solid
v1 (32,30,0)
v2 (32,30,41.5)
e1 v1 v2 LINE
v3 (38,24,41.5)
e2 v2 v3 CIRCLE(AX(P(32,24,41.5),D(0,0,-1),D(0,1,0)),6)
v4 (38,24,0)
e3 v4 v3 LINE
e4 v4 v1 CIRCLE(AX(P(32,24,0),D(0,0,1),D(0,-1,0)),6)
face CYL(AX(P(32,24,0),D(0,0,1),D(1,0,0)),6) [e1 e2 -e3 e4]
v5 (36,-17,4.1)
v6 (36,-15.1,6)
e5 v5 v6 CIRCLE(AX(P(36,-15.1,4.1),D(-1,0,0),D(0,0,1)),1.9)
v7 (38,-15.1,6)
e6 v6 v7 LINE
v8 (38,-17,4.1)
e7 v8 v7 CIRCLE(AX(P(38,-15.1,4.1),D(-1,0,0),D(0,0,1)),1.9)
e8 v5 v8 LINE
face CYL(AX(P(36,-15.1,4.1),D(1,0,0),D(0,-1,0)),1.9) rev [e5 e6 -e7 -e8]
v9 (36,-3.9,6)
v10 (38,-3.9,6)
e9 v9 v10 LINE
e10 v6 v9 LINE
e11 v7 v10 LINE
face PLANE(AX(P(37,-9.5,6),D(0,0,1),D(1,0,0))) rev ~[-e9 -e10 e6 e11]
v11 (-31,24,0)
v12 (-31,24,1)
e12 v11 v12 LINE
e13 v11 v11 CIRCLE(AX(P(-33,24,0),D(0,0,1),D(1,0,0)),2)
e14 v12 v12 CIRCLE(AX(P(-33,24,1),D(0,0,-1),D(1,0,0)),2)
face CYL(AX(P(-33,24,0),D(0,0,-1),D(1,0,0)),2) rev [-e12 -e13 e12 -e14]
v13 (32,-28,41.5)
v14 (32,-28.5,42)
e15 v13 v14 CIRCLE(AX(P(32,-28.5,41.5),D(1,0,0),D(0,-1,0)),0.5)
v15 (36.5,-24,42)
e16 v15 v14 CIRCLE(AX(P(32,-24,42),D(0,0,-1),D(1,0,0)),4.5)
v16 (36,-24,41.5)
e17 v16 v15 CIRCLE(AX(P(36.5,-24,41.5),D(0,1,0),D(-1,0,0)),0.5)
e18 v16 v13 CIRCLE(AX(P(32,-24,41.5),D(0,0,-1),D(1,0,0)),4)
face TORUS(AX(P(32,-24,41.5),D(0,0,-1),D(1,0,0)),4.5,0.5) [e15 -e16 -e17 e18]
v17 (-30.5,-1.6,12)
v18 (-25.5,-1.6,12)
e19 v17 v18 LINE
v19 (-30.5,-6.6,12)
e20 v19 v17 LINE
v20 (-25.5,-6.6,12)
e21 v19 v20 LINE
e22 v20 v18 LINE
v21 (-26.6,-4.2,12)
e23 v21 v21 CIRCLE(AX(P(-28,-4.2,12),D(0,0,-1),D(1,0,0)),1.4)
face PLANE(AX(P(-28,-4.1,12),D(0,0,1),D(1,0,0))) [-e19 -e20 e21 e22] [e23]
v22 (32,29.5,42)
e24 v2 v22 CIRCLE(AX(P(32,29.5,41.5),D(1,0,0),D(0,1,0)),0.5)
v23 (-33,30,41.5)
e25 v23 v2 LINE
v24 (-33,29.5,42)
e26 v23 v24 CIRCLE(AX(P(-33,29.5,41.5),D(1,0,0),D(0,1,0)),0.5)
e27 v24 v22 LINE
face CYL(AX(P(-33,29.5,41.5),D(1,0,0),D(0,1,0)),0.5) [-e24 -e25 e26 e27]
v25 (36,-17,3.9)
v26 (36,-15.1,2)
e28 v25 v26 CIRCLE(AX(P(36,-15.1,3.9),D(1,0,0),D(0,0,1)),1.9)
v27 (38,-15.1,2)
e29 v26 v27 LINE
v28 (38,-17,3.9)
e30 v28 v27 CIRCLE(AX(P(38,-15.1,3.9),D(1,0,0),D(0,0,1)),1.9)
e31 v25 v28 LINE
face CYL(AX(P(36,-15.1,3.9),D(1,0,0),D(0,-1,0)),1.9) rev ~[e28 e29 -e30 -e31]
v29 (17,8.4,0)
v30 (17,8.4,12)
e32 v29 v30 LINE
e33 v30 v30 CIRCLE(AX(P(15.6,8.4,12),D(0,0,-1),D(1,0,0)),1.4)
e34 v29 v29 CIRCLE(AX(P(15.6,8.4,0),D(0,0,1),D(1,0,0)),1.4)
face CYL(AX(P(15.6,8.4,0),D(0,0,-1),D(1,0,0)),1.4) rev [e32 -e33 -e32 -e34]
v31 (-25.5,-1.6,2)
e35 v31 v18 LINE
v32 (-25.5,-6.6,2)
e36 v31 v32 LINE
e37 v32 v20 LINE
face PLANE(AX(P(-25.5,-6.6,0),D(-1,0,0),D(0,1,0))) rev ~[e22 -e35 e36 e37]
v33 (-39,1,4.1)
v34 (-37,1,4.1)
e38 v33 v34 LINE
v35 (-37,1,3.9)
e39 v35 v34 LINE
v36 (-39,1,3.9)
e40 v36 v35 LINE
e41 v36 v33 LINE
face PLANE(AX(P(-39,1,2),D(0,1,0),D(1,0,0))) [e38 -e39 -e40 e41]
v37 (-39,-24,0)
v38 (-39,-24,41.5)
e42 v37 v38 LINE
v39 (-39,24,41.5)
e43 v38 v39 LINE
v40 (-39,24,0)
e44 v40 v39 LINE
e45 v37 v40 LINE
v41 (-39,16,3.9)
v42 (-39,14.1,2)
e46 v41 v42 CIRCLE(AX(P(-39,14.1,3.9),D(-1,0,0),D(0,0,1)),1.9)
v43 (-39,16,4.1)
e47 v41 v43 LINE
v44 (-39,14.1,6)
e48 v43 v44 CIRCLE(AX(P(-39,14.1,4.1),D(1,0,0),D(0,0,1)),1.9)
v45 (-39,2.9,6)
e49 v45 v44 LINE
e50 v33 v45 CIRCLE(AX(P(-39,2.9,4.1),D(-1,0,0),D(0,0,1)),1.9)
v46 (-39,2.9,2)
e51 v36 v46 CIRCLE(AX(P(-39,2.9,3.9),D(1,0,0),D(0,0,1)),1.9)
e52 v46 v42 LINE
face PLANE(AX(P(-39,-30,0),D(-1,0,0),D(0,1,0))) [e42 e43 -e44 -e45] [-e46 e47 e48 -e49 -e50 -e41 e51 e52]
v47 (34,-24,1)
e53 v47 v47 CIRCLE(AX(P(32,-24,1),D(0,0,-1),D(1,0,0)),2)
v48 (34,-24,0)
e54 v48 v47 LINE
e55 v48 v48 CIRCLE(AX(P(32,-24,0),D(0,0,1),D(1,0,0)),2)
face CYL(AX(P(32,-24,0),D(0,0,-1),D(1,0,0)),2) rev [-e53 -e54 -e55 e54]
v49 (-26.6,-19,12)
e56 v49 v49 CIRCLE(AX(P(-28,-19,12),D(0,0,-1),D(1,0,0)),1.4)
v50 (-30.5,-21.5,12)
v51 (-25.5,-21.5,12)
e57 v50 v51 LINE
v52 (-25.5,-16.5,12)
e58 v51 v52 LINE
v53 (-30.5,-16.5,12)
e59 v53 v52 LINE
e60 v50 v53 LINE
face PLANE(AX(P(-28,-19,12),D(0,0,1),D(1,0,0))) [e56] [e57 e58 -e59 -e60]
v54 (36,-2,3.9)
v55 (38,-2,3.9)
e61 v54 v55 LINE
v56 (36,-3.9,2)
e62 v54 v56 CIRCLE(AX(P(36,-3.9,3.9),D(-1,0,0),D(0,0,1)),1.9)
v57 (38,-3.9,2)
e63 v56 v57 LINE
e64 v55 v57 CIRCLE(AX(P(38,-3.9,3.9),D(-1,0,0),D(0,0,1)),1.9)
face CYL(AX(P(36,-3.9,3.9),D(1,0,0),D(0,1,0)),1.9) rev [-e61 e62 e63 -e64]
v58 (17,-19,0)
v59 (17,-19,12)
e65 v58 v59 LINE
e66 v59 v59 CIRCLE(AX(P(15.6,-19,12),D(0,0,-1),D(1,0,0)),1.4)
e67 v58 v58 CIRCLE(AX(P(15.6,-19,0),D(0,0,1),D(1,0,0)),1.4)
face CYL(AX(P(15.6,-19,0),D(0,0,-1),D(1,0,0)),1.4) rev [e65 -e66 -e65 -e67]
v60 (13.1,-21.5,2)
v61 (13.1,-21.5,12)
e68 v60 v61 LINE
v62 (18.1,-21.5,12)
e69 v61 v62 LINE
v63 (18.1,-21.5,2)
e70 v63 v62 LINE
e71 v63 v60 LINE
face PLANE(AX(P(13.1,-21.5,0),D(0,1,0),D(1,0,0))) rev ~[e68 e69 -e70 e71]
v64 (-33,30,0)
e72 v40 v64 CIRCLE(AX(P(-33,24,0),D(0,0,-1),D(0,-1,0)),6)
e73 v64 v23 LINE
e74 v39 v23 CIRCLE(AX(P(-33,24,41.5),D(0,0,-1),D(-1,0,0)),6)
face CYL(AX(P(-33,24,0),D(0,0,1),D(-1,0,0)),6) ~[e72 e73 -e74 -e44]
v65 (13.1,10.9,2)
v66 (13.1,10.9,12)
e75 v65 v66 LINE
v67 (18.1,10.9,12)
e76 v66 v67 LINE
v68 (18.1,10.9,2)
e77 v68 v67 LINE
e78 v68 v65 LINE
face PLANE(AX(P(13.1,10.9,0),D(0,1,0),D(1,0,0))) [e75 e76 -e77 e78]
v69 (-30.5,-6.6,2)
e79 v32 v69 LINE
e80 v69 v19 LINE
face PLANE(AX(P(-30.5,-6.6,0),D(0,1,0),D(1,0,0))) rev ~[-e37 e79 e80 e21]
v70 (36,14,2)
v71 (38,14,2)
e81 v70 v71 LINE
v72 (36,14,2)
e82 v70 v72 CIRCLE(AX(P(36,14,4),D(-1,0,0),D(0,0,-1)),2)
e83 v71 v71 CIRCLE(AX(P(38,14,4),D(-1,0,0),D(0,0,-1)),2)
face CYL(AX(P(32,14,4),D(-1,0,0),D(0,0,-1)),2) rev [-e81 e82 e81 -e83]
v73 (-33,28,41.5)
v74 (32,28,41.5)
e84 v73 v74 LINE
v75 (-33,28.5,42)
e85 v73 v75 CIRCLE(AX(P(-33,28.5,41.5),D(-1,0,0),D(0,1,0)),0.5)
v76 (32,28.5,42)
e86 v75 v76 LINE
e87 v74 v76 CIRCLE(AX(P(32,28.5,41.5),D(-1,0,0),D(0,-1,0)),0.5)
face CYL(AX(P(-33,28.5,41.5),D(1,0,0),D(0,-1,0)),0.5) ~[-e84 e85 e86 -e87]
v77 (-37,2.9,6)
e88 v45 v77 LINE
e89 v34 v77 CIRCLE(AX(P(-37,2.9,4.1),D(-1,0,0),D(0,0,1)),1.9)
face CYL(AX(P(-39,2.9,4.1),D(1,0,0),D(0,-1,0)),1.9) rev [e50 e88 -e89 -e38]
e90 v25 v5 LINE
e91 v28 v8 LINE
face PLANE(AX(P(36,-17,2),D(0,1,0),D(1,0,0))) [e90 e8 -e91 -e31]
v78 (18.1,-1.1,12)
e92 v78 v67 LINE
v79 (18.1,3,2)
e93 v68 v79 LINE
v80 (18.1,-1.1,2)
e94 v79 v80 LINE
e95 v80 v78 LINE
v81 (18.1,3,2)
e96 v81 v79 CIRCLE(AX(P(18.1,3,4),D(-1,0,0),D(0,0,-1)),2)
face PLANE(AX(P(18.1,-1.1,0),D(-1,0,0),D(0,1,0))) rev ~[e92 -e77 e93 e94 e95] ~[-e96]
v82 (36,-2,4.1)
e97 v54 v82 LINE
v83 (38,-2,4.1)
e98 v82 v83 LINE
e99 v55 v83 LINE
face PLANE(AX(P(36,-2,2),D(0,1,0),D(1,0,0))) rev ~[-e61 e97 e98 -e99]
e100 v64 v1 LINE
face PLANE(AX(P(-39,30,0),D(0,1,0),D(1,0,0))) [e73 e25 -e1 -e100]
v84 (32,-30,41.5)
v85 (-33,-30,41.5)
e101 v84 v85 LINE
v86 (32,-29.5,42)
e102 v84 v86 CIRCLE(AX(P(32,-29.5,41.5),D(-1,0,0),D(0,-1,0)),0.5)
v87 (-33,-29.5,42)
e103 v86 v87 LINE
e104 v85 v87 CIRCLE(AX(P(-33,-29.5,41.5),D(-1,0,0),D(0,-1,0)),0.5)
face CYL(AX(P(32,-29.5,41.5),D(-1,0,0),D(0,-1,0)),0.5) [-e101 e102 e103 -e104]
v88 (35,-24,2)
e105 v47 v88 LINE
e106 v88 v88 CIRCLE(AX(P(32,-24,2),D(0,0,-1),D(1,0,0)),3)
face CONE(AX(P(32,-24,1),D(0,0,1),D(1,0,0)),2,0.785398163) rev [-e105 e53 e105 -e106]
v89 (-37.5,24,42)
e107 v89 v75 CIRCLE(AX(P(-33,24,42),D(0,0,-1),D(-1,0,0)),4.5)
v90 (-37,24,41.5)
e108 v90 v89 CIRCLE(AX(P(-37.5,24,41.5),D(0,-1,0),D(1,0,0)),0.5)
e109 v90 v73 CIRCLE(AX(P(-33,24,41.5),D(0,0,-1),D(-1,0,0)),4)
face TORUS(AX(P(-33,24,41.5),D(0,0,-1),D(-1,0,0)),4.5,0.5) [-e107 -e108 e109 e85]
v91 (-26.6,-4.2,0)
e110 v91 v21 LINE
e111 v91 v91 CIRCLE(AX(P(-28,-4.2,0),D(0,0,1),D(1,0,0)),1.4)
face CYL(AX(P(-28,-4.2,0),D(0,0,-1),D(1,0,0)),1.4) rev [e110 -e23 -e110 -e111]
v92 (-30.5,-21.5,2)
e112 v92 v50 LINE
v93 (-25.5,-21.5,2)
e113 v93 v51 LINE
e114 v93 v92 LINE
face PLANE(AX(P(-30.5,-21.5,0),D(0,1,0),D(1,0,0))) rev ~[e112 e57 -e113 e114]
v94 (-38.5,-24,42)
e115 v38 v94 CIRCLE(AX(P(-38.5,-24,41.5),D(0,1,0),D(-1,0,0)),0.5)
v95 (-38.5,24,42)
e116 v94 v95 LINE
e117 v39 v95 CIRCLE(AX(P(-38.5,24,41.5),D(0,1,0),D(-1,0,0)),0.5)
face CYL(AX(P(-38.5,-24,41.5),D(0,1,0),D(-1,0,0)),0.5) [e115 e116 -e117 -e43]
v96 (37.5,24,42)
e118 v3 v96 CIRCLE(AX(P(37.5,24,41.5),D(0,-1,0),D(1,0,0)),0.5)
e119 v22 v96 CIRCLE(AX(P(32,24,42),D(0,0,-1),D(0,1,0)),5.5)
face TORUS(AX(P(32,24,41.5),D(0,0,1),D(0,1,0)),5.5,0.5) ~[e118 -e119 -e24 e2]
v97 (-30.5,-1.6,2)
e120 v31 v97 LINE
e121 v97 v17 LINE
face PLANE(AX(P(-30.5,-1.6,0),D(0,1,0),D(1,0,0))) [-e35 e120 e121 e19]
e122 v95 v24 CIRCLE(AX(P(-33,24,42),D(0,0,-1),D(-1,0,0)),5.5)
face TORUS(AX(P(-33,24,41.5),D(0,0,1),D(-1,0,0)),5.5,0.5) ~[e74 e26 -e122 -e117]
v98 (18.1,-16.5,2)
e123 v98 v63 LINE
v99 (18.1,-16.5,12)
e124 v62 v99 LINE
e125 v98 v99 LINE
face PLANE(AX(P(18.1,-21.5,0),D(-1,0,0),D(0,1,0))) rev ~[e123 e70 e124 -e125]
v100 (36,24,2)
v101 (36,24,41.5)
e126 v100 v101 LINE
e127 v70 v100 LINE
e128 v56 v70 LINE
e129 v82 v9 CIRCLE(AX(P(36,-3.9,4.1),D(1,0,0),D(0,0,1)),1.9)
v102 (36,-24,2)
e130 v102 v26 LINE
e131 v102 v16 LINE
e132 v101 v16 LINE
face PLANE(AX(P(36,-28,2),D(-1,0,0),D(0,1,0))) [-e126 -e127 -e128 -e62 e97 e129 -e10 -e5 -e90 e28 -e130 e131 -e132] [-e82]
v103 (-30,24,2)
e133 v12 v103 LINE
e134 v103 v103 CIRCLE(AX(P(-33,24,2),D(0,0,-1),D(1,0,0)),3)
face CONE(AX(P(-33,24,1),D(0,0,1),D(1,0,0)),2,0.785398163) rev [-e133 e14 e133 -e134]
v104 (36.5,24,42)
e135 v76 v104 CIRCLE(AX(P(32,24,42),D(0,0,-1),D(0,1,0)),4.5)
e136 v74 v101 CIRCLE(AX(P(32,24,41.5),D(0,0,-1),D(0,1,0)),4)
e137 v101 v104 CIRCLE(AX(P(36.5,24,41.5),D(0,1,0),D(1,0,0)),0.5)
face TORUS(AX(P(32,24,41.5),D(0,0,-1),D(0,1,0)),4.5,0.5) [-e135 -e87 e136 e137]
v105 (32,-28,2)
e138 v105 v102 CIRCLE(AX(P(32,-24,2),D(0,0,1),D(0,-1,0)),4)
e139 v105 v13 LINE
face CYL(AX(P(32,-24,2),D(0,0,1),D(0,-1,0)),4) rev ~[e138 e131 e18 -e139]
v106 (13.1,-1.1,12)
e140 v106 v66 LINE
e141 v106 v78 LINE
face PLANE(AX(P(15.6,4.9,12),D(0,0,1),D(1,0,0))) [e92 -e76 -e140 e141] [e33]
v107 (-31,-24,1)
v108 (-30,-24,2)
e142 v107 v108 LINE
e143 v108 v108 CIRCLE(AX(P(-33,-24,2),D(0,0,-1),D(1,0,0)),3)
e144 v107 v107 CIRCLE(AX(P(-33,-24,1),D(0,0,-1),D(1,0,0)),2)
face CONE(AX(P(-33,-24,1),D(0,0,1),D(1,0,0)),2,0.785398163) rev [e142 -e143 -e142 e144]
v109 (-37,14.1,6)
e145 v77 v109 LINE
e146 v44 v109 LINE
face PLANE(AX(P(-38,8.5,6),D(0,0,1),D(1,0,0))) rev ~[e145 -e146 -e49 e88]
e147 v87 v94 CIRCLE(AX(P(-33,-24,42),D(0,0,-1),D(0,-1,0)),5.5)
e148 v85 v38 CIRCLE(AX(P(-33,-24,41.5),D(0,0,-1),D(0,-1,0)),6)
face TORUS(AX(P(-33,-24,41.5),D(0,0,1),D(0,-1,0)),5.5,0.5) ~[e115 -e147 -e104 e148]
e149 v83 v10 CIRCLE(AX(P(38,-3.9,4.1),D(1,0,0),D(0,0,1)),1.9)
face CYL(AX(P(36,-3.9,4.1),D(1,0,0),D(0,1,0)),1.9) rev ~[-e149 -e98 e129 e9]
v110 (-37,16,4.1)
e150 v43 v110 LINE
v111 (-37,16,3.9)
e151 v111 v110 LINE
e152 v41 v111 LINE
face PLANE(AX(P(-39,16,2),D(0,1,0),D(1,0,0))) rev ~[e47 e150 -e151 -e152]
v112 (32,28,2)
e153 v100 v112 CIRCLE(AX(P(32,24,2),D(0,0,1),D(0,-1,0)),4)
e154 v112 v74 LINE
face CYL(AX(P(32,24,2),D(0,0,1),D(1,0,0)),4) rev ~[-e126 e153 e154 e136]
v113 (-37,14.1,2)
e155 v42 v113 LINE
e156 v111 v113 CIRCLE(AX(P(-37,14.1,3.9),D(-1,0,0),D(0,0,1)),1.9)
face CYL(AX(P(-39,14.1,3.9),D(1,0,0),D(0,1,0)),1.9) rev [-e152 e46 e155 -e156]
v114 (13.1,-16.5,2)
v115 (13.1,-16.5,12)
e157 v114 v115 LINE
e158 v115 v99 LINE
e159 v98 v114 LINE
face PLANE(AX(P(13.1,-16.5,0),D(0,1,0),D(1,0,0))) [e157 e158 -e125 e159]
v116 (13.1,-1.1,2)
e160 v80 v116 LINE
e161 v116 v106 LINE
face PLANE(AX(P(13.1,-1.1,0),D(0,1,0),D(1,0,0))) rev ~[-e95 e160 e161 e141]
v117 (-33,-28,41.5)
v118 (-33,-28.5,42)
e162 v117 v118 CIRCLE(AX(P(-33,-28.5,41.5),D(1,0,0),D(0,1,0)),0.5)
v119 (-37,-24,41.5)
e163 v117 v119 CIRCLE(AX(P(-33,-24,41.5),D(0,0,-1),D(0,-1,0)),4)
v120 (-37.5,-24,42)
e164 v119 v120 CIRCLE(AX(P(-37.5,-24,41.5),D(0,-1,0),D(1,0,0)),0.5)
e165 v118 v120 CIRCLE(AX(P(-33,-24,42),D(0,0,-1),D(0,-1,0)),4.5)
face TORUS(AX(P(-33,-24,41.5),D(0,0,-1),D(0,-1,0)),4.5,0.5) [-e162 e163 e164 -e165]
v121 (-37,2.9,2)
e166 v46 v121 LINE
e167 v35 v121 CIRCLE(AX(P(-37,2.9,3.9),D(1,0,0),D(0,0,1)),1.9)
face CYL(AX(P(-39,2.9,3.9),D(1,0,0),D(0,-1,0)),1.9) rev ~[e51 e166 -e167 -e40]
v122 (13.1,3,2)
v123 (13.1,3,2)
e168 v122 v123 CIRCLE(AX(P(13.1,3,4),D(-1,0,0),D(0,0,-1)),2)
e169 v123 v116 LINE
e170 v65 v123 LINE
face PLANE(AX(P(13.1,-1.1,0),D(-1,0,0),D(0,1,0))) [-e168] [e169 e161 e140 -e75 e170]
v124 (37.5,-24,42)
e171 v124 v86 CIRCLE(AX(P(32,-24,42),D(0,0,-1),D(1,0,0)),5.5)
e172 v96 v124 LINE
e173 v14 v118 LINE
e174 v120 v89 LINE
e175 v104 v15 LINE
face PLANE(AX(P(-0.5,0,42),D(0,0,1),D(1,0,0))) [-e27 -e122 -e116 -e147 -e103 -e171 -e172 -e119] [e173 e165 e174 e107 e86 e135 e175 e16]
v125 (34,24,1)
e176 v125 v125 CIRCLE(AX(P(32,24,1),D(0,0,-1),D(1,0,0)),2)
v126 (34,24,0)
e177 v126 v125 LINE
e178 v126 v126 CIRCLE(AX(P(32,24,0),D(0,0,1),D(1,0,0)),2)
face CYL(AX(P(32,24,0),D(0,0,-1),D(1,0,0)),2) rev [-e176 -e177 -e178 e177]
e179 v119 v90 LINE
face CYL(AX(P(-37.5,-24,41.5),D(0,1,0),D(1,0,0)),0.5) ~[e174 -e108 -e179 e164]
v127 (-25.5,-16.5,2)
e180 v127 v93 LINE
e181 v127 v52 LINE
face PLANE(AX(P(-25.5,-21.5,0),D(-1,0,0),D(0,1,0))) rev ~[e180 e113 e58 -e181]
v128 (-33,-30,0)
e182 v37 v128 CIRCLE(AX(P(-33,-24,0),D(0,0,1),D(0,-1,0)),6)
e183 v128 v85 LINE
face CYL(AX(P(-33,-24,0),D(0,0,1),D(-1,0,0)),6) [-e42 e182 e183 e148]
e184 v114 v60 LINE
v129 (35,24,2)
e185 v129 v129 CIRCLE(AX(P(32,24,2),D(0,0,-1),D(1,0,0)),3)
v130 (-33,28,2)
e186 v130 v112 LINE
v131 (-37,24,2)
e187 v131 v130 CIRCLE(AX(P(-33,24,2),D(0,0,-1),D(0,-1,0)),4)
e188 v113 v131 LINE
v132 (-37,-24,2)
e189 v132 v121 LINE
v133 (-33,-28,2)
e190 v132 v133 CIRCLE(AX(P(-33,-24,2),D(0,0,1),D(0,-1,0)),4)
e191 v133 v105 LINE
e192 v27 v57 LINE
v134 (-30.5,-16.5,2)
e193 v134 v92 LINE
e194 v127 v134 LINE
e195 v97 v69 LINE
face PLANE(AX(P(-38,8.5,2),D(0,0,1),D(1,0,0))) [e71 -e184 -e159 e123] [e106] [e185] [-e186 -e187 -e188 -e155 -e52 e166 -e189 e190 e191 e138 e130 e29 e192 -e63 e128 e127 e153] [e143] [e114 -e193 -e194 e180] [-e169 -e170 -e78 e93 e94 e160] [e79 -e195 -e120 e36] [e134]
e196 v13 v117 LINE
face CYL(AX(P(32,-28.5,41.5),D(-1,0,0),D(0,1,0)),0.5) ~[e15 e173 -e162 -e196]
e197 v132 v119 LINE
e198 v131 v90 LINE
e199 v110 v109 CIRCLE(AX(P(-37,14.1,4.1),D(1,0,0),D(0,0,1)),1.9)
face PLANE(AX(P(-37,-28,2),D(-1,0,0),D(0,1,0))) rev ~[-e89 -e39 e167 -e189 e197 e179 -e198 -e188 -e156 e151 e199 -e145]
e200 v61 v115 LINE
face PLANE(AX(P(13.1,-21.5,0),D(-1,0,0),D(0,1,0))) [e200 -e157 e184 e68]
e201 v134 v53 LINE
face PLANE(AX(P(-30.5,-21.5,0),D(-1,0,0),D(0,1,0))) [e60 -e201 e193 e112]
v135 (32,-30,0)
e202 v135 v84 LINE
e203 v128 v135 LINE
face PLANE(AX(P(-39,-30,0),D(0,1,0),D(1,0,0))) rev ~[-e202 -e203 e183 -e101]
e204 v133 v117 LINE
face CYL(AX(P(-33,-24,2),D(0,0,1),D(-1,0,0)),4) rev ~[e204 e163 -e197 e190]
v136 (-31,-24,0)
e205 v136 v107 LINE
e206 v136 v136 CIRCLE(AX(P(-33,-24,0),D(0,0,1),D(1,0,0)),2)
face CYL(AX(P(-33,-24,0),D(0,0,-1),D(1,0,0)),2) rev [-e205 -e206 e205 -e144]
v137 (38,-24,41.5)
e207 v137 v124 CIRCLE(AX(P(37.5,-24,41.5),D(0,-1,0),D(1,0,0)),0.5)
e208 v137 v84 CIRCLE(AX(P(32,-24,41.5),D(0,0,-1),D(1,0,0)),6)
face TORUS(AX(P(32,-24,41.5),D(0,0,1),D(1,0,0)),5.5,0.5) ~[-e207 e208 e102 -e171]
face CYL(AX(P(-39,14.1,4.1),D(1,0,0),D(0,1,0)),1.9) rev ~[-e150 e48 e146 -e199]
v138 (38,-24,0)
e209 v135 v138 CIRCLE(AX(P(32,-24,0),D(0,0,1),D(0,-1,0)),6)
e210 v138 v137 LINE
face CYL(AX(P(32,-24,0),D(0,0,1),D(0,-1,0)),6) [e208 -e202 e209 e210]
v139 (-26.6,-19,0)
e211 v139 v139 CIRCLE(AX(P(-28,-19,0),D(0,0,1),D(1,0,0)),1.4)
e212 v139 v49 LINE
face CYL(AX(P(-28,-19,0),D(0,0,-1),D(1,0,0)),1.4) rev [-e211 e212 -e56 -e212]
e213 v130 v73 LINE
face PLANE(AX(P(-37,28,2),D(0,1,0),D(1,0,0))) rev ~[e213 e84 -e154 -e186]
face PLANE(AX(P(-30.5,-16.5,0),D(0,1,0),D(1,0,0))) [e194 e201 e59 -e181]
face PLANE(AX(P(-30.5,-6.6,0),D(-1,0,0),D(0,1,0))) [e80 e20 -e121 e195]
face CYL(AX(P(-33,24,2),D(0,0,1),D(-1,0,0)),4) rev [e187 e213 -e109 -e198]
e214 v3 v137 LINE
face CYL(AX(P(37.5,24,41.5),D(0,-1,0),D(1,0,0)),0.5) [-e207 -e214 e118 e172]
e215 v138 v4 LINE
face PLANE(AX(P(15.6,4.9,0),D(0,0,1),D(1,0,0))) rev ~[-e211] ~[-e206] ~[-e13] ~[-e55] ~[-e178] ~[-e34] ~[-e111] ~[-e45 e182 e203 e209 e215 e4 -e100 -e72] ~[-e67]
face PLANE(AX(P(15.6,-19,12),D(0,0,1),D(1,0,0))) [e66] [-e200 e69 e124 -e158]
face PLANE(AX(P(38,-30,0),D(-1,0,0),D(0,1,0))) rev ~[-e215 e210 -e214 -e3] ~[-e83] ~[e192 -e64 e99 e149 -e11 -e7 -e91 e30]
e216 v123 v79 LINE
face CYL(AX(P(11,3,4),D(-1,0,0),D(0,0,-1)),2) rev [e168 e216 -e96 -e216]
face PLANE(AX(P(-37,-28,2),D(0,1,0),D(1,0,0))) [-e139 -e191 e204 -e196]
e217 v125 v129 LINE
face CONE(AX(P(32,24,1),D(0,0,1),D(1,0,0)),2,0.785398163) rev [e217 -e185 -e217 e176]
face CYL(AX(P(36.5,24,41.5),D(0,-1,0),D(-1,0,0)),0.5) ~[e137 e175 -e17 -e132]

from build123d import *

# Parameters (mm, degrees)
CYLINDER011_R     = 1.4
CYLINDER011_DEPTH = 14
CYLINDER010_R     = 1.4
CYLINDER010_DEPTH = 14
CYLINDER009_R     = 1.4
CYLINDER009_DEPTH = 14
CYLINDER004_R     = 2
CYLINDER004_DEPTH = 40
CYLINDER005_R     = 2
CYLINDER005_DEPTH = 40
CYLINDER006_R     = 2
CYLINDER006_DEPTH = 40
CYLINDER007_R     = 2
CYLINDER007_DEPTH = 40
CYLINDER_R        = 2
CYLINDER_DEPTH    = 10
BOX004_W          = 2
BOX004_H          = 15
BOX004_DEPTH      = 4
FILLET002_R       = 1.9
BOX003_W          = 2
BOX003_H          = 15
BOX003_DEPTH      = 4
FILLET003_R       = 1.9
CYLINDER008_R     = 1.4
CYLINDER008_DEPTH = 14
BOX005_W          = 5
BOX005_H          = 5
BOX005_DEPTH      = 12
BOX006_W          = 5
BOX006_H          = 5
BOX006_DEPTH      = 12
BOX008_W          = 5
BOX008_H          = 5
BOX008_DEPTH      = 12
CYLINDER012_R     = 2
CYLINDER012_DEPTH = 10
BOX007_W          = 5
BOX007_H          = 12
BOX007_DEPTH      = 12
BOX_W             = 73
BOX_H             = 56
BOX_DEPTH         = 40
FILLET_R          = 4
BOX001_W          = 77
BOX001_H          = 60
BOX001_DEPTH      = 42
FILLET001_R       = 6
CHAMFER_SIZE      = 1
FILLET004_R       = 0.5


with BuildPart() as halterlochlo:
    # Cylinder011 → Cylinder011 (new body)
    with BuildSketch(Plane(origin=(-28, -4.2, 0), x_dir=(1, 0, 0), z_dir=(0, 0, 1))):
        Circle(CYLINDER011_R)
    extrude(amount=CYLINDER011_DEPTH)


with BuildPart() as halterlochro:
    # Cylinder010 → Cylinder010 (new body)
    with BuildSketch(Plane(origin=(15.6, 8.4, 0), x_dir=(1, 0, 0), z_dir=(0, 0, 1))):
        Circle(CYLINDER010_R)
    extrude(amount=CYLINDER010_DEPTH)


with BuildPart() as halterlochru:
    # Cylinder009 → Cylinder009 (new body)
    with BuildSketch(Plane(origin=(15.6, -19, 0), x_dir=(1, 0, 0), z_dir=(0, 0, 1))):
        Circle(CYLINDER009_R)
    extrude(amount=CYLINDER009_DEPTH)


with BuildPart() as zylinder:
    # Cylinder004 → Cylinder004 (new body)
    with BuildSketch(Plane(origin=(32, 24, 0), x_dir=(1, 0, 0), z_dir=(0, 0, 1))):
        Circle(CYLINDER004_R)
    extrude(amount=CYLINDER004_DEPTH)


with BuildPart() as zylinder001:
    # Cylinder005 → Cylinder005 (new body)
    with BuildSketch(Plane(origin=(32, -24, 0), x_dir=(1, 0, 0), z_dir=(0, 0, 1))):
        Circle(CYLINDER005_R)
    extrude(amount=CYLINDER005_DEPTH)


with BuildPart() as zylinder002:
    # Cylinder006 → Cylinder006 (new body)
    with BuildSketch(Plane(origin=(-33, 24, 0), x_dir=(1, 0, 0), z_dir=(0, 0, 1))):
        Circle(CYLINDER006_R)
    extrude(amount=CYLINDER006_DEPTH)


with BuildPart() as zylinder003:
    # Cylinder007 → Cylinder007 (new body)
    with BuildSketch(Plane(origin=(-33, -24, 0), x_dir=(1, 0, 0), z_dir=(0, 0, 1))):
        Circle(CYLINDER007_R)
    extrude(amount=CYLINDER007_DEPTH)


with BuildPart() as zylinder004:
    # Cylinder → Cylinder (new body)
    with BuildSketch(Plane(origin=(32, 14, 4), x_dir=(0, 0, -1), z_dir=(1, 0, 0))):
        Circle(CYLINDER_R)
    extrude(amount=CYLINDER_DEPTH)


with BuildPart() as fillet002:
    # Box004 → Box004 (new body)
    with BuildSketch(Plane(origin=(-39, 1, 2), x_dir=(1, 0, 0), z_dir=(0, 0, 1))):
        with Locations((1, 7.5)):
            Rectangle(BOX004_W, BOX004_H)
    extrude(amount=BOX004_DEPTH)

    # Fillet002
    fillet002_edges = [fillet002.edges().sort_by_distance(p)[0] for p in [
        (-38, 1, 2),
        (-38, 1, 6),
        (-38, 16, 2),
        (-38, 16, 6),
    ]]
    fillet(fillet002_edges, radius=FILLET002_R)


with BuildPart() as fillet003:
    # Box003 → Box003 (new body)
    with BuildSketch(Plane(origin=(36, -17, 2), x_dir=(1, 0, 0), z_dir=(0, 0, 1))):
        with Locations((1, 7.5)):
            Rectangle(BOX003_W, BOX003_H)
    extrude(amount=BOX003_DEPTH)

    # Fillet003
    fillet003_edges = [fillet003.edges().sort_by_distance(p)[0] for p in [
        (37, -17, 2),
        (37, -17, 6),
        (37, -2, 2),
        (37, -2, 6),
    ]]
    fillet(fillet003_edges, radius=FILLET003_R)


with BuildPart() as fusion:
    # Cylinder008 → Cylinder008 (new body)
    with BuildSketch(Plane(origin=(-28, -19, 0), x_dir=(1, 0, 0), z_dir=(0, 0, 1))):
        Circle(CYLINDER008_R)
    extrude(amount=CYLINDER008_DEPTH)

    # Fusion: union HalterLochLO, HalterLochRO, HalterLochRU, Zylinder, Zylinder001, Zylinder002, Zylinder003, Zylinder004, Fillet002, Fillet003
    add(halterlochlo.part)
    add(halterlochro.part)
    add(halterlochru.part)
    add(zylinder.part)
    add(zylinder001.part)
    add(zylinder002.part)
    add(zylinder003.part)
    add(zylinder004.part)
    add(fillet002.part)
    add(fillet003.part)


with BuildPart() as halterbodylu:
    # Box005 → Box005 (new body)
    with BuildSketch(Plane(origin=(-30.5, -21.5, 0), x_dir=(1, 0, 0), z_dir=(0, 0, 1))):
        with Locations((2.5, 2.5)):
            Rectangle(BOX005_W, BOX005_H)
    extrude(amount=BOX005_DEPTH)


with BuildPart() as halterbodyru:
    # Box006 → Box006 (new body)
    with BuildSketch(Plane(origin=(13.1, -21.5, 0), x_dir=(1, 0, 0), z_dir=(0, 0, 1))):
        with Locations((2.5, 2.5)):
            Rectangle(BOX006_W, BOX006_H)
    extrude(amount=BOX006_DEPTH)


with BuildPart() as halterbodylo:
    # Box008 → Box008 (new body)
    with BuildSketch(Plane(origin=(-30.5, -6.6, 0), x_dir=(1, 0, 0), z_dir=(0, 0, 1))):
        with Locations((2.5, 2.5)):
            Rectangle(BOX008_W, BOX008_H)
    extrude(amount=BOX008_DEPTH)


with BuildPart() as zylinder005:
    # Cylinder012 → Cylinder012 (new body)
    with BuildSketch(Plane(origin=(11, 3, 4), x_dir=(0, 0, -1), z_dir=(1, 0, 0))):
        Circle(CYLINDER012_R)
    extrude(amount=CYLINDER012_DEPTH)


with BuildPart() as cut001:
    # Box007 → Box007 (new body)
    with BuildSketch(Plane(origin=(13.1, -1.1, 0), x_dir=(1, 0, 0), z_dir=(0, 0, 1))):
        with Locations((2.5, 6)):
            Rectangle(BOX007_W, BOX007_H)
    extrude(amount=BOX007_DEPTH)

    # Cut001: cut Zylinder005
    add(zylinder005.part, mode=Mode.SUBTRACT)


with BuildPart() as innenraumrund:
    # Box → Box (new body)
    with BuildSketch(Plane(origin=(-37, -28, 2), x_dir=(1, 0, 0), z_dir=(0, 0, 1))):
        with Locations((36.5, 28)):
            Rectangle(BOX_W, BOX_H)
    extrude(amount=BOX_DEPTH)

    # Fillet
    fillet_edges = [innenraumrund.edges().sort_by_distance(p)[0] for p in [
        (-37, -28, 22),
        (-37, 28, 22),
        (36, -28, 22),
        (36, 28, 22),
    ]]
    fillet(fillet_edges, radius=FILLET_R)


with BuildPart() as unterbau:
    # Box001 → Box001 (new body)
    with BuildSketch(Plane(origin=(-39, -30, 0), x_dir=(1, 0, 0), z_dir=(0, 0, 1))):
        with Locations((38.5, 30)):
            Rectangle(BOX001_W, BOX001_H)
    extrude(amount=BOX001_DEPTH)

    # Fillet001
    fillet001_edges = [unterbau.edges().sort_by_distance(p)[0] for p in [
        (-39, -30, 21),
        (-39, 30, 21),
        (38, -30, 21),
        (38, 30, 21),
    ]]
    fillet(fillet001_edges, radius=FILLET001_R)

    # Cut: cut InnenraumRund
    add(innenraumrund.part, mode=Mode.SUBTRACT)

    # Fusion001: union HalterBodyLU, HalterBodyRU, HalterBodyLO, Cut001
    add(halterbodylu.part)
    add(halterbodyru.part)
    add(halterbodylo.part)
    add(cut001.part)

    # Cut002: cut Fusion
    add(fusion.part, mode=Mode.SUBTRACT)

    # Chamfer
    chamfer_edges = [unterbau.edges().sort_by_distance(p)[0] for p in [
        (30, 24, 2),
        (-35, 24, 2),
        (-35, -24, 2),
        (30, -24, 2),
    ]]
    chamfer(chamfer_edges, length=CHAMFER_SIZE)

    # Fillet004
    fillet004_edges = [unterbau.edges().sort_by_distance(p)[0] for p in [
        (-39, 0, 42),
        (-37.242641, -28.242641, 42),
        (-37.242641, 28.242641, 42),
        (-0.5, -30, 42),
        (-0.5, 30, 42),
        (36.242641, -28.242641, 42),
        (36.242641, 28.242641, 42),
        (38, 0, 42),
        (-37, 0, 42),
        (-35.828427, -26.828427, 42),
        (-0.5, -28, 42),
        (34.828427, -26.828427, 42),
        (-35.828427, 26.828427, 42),
        (36, 0, 42),
        (-0.5, 28, 42),
        (34.828427, 26.828427, 42),
    ]]
    fillet(fillet004_edges, radius=FILLET004_R)


solid = unterbau.part
